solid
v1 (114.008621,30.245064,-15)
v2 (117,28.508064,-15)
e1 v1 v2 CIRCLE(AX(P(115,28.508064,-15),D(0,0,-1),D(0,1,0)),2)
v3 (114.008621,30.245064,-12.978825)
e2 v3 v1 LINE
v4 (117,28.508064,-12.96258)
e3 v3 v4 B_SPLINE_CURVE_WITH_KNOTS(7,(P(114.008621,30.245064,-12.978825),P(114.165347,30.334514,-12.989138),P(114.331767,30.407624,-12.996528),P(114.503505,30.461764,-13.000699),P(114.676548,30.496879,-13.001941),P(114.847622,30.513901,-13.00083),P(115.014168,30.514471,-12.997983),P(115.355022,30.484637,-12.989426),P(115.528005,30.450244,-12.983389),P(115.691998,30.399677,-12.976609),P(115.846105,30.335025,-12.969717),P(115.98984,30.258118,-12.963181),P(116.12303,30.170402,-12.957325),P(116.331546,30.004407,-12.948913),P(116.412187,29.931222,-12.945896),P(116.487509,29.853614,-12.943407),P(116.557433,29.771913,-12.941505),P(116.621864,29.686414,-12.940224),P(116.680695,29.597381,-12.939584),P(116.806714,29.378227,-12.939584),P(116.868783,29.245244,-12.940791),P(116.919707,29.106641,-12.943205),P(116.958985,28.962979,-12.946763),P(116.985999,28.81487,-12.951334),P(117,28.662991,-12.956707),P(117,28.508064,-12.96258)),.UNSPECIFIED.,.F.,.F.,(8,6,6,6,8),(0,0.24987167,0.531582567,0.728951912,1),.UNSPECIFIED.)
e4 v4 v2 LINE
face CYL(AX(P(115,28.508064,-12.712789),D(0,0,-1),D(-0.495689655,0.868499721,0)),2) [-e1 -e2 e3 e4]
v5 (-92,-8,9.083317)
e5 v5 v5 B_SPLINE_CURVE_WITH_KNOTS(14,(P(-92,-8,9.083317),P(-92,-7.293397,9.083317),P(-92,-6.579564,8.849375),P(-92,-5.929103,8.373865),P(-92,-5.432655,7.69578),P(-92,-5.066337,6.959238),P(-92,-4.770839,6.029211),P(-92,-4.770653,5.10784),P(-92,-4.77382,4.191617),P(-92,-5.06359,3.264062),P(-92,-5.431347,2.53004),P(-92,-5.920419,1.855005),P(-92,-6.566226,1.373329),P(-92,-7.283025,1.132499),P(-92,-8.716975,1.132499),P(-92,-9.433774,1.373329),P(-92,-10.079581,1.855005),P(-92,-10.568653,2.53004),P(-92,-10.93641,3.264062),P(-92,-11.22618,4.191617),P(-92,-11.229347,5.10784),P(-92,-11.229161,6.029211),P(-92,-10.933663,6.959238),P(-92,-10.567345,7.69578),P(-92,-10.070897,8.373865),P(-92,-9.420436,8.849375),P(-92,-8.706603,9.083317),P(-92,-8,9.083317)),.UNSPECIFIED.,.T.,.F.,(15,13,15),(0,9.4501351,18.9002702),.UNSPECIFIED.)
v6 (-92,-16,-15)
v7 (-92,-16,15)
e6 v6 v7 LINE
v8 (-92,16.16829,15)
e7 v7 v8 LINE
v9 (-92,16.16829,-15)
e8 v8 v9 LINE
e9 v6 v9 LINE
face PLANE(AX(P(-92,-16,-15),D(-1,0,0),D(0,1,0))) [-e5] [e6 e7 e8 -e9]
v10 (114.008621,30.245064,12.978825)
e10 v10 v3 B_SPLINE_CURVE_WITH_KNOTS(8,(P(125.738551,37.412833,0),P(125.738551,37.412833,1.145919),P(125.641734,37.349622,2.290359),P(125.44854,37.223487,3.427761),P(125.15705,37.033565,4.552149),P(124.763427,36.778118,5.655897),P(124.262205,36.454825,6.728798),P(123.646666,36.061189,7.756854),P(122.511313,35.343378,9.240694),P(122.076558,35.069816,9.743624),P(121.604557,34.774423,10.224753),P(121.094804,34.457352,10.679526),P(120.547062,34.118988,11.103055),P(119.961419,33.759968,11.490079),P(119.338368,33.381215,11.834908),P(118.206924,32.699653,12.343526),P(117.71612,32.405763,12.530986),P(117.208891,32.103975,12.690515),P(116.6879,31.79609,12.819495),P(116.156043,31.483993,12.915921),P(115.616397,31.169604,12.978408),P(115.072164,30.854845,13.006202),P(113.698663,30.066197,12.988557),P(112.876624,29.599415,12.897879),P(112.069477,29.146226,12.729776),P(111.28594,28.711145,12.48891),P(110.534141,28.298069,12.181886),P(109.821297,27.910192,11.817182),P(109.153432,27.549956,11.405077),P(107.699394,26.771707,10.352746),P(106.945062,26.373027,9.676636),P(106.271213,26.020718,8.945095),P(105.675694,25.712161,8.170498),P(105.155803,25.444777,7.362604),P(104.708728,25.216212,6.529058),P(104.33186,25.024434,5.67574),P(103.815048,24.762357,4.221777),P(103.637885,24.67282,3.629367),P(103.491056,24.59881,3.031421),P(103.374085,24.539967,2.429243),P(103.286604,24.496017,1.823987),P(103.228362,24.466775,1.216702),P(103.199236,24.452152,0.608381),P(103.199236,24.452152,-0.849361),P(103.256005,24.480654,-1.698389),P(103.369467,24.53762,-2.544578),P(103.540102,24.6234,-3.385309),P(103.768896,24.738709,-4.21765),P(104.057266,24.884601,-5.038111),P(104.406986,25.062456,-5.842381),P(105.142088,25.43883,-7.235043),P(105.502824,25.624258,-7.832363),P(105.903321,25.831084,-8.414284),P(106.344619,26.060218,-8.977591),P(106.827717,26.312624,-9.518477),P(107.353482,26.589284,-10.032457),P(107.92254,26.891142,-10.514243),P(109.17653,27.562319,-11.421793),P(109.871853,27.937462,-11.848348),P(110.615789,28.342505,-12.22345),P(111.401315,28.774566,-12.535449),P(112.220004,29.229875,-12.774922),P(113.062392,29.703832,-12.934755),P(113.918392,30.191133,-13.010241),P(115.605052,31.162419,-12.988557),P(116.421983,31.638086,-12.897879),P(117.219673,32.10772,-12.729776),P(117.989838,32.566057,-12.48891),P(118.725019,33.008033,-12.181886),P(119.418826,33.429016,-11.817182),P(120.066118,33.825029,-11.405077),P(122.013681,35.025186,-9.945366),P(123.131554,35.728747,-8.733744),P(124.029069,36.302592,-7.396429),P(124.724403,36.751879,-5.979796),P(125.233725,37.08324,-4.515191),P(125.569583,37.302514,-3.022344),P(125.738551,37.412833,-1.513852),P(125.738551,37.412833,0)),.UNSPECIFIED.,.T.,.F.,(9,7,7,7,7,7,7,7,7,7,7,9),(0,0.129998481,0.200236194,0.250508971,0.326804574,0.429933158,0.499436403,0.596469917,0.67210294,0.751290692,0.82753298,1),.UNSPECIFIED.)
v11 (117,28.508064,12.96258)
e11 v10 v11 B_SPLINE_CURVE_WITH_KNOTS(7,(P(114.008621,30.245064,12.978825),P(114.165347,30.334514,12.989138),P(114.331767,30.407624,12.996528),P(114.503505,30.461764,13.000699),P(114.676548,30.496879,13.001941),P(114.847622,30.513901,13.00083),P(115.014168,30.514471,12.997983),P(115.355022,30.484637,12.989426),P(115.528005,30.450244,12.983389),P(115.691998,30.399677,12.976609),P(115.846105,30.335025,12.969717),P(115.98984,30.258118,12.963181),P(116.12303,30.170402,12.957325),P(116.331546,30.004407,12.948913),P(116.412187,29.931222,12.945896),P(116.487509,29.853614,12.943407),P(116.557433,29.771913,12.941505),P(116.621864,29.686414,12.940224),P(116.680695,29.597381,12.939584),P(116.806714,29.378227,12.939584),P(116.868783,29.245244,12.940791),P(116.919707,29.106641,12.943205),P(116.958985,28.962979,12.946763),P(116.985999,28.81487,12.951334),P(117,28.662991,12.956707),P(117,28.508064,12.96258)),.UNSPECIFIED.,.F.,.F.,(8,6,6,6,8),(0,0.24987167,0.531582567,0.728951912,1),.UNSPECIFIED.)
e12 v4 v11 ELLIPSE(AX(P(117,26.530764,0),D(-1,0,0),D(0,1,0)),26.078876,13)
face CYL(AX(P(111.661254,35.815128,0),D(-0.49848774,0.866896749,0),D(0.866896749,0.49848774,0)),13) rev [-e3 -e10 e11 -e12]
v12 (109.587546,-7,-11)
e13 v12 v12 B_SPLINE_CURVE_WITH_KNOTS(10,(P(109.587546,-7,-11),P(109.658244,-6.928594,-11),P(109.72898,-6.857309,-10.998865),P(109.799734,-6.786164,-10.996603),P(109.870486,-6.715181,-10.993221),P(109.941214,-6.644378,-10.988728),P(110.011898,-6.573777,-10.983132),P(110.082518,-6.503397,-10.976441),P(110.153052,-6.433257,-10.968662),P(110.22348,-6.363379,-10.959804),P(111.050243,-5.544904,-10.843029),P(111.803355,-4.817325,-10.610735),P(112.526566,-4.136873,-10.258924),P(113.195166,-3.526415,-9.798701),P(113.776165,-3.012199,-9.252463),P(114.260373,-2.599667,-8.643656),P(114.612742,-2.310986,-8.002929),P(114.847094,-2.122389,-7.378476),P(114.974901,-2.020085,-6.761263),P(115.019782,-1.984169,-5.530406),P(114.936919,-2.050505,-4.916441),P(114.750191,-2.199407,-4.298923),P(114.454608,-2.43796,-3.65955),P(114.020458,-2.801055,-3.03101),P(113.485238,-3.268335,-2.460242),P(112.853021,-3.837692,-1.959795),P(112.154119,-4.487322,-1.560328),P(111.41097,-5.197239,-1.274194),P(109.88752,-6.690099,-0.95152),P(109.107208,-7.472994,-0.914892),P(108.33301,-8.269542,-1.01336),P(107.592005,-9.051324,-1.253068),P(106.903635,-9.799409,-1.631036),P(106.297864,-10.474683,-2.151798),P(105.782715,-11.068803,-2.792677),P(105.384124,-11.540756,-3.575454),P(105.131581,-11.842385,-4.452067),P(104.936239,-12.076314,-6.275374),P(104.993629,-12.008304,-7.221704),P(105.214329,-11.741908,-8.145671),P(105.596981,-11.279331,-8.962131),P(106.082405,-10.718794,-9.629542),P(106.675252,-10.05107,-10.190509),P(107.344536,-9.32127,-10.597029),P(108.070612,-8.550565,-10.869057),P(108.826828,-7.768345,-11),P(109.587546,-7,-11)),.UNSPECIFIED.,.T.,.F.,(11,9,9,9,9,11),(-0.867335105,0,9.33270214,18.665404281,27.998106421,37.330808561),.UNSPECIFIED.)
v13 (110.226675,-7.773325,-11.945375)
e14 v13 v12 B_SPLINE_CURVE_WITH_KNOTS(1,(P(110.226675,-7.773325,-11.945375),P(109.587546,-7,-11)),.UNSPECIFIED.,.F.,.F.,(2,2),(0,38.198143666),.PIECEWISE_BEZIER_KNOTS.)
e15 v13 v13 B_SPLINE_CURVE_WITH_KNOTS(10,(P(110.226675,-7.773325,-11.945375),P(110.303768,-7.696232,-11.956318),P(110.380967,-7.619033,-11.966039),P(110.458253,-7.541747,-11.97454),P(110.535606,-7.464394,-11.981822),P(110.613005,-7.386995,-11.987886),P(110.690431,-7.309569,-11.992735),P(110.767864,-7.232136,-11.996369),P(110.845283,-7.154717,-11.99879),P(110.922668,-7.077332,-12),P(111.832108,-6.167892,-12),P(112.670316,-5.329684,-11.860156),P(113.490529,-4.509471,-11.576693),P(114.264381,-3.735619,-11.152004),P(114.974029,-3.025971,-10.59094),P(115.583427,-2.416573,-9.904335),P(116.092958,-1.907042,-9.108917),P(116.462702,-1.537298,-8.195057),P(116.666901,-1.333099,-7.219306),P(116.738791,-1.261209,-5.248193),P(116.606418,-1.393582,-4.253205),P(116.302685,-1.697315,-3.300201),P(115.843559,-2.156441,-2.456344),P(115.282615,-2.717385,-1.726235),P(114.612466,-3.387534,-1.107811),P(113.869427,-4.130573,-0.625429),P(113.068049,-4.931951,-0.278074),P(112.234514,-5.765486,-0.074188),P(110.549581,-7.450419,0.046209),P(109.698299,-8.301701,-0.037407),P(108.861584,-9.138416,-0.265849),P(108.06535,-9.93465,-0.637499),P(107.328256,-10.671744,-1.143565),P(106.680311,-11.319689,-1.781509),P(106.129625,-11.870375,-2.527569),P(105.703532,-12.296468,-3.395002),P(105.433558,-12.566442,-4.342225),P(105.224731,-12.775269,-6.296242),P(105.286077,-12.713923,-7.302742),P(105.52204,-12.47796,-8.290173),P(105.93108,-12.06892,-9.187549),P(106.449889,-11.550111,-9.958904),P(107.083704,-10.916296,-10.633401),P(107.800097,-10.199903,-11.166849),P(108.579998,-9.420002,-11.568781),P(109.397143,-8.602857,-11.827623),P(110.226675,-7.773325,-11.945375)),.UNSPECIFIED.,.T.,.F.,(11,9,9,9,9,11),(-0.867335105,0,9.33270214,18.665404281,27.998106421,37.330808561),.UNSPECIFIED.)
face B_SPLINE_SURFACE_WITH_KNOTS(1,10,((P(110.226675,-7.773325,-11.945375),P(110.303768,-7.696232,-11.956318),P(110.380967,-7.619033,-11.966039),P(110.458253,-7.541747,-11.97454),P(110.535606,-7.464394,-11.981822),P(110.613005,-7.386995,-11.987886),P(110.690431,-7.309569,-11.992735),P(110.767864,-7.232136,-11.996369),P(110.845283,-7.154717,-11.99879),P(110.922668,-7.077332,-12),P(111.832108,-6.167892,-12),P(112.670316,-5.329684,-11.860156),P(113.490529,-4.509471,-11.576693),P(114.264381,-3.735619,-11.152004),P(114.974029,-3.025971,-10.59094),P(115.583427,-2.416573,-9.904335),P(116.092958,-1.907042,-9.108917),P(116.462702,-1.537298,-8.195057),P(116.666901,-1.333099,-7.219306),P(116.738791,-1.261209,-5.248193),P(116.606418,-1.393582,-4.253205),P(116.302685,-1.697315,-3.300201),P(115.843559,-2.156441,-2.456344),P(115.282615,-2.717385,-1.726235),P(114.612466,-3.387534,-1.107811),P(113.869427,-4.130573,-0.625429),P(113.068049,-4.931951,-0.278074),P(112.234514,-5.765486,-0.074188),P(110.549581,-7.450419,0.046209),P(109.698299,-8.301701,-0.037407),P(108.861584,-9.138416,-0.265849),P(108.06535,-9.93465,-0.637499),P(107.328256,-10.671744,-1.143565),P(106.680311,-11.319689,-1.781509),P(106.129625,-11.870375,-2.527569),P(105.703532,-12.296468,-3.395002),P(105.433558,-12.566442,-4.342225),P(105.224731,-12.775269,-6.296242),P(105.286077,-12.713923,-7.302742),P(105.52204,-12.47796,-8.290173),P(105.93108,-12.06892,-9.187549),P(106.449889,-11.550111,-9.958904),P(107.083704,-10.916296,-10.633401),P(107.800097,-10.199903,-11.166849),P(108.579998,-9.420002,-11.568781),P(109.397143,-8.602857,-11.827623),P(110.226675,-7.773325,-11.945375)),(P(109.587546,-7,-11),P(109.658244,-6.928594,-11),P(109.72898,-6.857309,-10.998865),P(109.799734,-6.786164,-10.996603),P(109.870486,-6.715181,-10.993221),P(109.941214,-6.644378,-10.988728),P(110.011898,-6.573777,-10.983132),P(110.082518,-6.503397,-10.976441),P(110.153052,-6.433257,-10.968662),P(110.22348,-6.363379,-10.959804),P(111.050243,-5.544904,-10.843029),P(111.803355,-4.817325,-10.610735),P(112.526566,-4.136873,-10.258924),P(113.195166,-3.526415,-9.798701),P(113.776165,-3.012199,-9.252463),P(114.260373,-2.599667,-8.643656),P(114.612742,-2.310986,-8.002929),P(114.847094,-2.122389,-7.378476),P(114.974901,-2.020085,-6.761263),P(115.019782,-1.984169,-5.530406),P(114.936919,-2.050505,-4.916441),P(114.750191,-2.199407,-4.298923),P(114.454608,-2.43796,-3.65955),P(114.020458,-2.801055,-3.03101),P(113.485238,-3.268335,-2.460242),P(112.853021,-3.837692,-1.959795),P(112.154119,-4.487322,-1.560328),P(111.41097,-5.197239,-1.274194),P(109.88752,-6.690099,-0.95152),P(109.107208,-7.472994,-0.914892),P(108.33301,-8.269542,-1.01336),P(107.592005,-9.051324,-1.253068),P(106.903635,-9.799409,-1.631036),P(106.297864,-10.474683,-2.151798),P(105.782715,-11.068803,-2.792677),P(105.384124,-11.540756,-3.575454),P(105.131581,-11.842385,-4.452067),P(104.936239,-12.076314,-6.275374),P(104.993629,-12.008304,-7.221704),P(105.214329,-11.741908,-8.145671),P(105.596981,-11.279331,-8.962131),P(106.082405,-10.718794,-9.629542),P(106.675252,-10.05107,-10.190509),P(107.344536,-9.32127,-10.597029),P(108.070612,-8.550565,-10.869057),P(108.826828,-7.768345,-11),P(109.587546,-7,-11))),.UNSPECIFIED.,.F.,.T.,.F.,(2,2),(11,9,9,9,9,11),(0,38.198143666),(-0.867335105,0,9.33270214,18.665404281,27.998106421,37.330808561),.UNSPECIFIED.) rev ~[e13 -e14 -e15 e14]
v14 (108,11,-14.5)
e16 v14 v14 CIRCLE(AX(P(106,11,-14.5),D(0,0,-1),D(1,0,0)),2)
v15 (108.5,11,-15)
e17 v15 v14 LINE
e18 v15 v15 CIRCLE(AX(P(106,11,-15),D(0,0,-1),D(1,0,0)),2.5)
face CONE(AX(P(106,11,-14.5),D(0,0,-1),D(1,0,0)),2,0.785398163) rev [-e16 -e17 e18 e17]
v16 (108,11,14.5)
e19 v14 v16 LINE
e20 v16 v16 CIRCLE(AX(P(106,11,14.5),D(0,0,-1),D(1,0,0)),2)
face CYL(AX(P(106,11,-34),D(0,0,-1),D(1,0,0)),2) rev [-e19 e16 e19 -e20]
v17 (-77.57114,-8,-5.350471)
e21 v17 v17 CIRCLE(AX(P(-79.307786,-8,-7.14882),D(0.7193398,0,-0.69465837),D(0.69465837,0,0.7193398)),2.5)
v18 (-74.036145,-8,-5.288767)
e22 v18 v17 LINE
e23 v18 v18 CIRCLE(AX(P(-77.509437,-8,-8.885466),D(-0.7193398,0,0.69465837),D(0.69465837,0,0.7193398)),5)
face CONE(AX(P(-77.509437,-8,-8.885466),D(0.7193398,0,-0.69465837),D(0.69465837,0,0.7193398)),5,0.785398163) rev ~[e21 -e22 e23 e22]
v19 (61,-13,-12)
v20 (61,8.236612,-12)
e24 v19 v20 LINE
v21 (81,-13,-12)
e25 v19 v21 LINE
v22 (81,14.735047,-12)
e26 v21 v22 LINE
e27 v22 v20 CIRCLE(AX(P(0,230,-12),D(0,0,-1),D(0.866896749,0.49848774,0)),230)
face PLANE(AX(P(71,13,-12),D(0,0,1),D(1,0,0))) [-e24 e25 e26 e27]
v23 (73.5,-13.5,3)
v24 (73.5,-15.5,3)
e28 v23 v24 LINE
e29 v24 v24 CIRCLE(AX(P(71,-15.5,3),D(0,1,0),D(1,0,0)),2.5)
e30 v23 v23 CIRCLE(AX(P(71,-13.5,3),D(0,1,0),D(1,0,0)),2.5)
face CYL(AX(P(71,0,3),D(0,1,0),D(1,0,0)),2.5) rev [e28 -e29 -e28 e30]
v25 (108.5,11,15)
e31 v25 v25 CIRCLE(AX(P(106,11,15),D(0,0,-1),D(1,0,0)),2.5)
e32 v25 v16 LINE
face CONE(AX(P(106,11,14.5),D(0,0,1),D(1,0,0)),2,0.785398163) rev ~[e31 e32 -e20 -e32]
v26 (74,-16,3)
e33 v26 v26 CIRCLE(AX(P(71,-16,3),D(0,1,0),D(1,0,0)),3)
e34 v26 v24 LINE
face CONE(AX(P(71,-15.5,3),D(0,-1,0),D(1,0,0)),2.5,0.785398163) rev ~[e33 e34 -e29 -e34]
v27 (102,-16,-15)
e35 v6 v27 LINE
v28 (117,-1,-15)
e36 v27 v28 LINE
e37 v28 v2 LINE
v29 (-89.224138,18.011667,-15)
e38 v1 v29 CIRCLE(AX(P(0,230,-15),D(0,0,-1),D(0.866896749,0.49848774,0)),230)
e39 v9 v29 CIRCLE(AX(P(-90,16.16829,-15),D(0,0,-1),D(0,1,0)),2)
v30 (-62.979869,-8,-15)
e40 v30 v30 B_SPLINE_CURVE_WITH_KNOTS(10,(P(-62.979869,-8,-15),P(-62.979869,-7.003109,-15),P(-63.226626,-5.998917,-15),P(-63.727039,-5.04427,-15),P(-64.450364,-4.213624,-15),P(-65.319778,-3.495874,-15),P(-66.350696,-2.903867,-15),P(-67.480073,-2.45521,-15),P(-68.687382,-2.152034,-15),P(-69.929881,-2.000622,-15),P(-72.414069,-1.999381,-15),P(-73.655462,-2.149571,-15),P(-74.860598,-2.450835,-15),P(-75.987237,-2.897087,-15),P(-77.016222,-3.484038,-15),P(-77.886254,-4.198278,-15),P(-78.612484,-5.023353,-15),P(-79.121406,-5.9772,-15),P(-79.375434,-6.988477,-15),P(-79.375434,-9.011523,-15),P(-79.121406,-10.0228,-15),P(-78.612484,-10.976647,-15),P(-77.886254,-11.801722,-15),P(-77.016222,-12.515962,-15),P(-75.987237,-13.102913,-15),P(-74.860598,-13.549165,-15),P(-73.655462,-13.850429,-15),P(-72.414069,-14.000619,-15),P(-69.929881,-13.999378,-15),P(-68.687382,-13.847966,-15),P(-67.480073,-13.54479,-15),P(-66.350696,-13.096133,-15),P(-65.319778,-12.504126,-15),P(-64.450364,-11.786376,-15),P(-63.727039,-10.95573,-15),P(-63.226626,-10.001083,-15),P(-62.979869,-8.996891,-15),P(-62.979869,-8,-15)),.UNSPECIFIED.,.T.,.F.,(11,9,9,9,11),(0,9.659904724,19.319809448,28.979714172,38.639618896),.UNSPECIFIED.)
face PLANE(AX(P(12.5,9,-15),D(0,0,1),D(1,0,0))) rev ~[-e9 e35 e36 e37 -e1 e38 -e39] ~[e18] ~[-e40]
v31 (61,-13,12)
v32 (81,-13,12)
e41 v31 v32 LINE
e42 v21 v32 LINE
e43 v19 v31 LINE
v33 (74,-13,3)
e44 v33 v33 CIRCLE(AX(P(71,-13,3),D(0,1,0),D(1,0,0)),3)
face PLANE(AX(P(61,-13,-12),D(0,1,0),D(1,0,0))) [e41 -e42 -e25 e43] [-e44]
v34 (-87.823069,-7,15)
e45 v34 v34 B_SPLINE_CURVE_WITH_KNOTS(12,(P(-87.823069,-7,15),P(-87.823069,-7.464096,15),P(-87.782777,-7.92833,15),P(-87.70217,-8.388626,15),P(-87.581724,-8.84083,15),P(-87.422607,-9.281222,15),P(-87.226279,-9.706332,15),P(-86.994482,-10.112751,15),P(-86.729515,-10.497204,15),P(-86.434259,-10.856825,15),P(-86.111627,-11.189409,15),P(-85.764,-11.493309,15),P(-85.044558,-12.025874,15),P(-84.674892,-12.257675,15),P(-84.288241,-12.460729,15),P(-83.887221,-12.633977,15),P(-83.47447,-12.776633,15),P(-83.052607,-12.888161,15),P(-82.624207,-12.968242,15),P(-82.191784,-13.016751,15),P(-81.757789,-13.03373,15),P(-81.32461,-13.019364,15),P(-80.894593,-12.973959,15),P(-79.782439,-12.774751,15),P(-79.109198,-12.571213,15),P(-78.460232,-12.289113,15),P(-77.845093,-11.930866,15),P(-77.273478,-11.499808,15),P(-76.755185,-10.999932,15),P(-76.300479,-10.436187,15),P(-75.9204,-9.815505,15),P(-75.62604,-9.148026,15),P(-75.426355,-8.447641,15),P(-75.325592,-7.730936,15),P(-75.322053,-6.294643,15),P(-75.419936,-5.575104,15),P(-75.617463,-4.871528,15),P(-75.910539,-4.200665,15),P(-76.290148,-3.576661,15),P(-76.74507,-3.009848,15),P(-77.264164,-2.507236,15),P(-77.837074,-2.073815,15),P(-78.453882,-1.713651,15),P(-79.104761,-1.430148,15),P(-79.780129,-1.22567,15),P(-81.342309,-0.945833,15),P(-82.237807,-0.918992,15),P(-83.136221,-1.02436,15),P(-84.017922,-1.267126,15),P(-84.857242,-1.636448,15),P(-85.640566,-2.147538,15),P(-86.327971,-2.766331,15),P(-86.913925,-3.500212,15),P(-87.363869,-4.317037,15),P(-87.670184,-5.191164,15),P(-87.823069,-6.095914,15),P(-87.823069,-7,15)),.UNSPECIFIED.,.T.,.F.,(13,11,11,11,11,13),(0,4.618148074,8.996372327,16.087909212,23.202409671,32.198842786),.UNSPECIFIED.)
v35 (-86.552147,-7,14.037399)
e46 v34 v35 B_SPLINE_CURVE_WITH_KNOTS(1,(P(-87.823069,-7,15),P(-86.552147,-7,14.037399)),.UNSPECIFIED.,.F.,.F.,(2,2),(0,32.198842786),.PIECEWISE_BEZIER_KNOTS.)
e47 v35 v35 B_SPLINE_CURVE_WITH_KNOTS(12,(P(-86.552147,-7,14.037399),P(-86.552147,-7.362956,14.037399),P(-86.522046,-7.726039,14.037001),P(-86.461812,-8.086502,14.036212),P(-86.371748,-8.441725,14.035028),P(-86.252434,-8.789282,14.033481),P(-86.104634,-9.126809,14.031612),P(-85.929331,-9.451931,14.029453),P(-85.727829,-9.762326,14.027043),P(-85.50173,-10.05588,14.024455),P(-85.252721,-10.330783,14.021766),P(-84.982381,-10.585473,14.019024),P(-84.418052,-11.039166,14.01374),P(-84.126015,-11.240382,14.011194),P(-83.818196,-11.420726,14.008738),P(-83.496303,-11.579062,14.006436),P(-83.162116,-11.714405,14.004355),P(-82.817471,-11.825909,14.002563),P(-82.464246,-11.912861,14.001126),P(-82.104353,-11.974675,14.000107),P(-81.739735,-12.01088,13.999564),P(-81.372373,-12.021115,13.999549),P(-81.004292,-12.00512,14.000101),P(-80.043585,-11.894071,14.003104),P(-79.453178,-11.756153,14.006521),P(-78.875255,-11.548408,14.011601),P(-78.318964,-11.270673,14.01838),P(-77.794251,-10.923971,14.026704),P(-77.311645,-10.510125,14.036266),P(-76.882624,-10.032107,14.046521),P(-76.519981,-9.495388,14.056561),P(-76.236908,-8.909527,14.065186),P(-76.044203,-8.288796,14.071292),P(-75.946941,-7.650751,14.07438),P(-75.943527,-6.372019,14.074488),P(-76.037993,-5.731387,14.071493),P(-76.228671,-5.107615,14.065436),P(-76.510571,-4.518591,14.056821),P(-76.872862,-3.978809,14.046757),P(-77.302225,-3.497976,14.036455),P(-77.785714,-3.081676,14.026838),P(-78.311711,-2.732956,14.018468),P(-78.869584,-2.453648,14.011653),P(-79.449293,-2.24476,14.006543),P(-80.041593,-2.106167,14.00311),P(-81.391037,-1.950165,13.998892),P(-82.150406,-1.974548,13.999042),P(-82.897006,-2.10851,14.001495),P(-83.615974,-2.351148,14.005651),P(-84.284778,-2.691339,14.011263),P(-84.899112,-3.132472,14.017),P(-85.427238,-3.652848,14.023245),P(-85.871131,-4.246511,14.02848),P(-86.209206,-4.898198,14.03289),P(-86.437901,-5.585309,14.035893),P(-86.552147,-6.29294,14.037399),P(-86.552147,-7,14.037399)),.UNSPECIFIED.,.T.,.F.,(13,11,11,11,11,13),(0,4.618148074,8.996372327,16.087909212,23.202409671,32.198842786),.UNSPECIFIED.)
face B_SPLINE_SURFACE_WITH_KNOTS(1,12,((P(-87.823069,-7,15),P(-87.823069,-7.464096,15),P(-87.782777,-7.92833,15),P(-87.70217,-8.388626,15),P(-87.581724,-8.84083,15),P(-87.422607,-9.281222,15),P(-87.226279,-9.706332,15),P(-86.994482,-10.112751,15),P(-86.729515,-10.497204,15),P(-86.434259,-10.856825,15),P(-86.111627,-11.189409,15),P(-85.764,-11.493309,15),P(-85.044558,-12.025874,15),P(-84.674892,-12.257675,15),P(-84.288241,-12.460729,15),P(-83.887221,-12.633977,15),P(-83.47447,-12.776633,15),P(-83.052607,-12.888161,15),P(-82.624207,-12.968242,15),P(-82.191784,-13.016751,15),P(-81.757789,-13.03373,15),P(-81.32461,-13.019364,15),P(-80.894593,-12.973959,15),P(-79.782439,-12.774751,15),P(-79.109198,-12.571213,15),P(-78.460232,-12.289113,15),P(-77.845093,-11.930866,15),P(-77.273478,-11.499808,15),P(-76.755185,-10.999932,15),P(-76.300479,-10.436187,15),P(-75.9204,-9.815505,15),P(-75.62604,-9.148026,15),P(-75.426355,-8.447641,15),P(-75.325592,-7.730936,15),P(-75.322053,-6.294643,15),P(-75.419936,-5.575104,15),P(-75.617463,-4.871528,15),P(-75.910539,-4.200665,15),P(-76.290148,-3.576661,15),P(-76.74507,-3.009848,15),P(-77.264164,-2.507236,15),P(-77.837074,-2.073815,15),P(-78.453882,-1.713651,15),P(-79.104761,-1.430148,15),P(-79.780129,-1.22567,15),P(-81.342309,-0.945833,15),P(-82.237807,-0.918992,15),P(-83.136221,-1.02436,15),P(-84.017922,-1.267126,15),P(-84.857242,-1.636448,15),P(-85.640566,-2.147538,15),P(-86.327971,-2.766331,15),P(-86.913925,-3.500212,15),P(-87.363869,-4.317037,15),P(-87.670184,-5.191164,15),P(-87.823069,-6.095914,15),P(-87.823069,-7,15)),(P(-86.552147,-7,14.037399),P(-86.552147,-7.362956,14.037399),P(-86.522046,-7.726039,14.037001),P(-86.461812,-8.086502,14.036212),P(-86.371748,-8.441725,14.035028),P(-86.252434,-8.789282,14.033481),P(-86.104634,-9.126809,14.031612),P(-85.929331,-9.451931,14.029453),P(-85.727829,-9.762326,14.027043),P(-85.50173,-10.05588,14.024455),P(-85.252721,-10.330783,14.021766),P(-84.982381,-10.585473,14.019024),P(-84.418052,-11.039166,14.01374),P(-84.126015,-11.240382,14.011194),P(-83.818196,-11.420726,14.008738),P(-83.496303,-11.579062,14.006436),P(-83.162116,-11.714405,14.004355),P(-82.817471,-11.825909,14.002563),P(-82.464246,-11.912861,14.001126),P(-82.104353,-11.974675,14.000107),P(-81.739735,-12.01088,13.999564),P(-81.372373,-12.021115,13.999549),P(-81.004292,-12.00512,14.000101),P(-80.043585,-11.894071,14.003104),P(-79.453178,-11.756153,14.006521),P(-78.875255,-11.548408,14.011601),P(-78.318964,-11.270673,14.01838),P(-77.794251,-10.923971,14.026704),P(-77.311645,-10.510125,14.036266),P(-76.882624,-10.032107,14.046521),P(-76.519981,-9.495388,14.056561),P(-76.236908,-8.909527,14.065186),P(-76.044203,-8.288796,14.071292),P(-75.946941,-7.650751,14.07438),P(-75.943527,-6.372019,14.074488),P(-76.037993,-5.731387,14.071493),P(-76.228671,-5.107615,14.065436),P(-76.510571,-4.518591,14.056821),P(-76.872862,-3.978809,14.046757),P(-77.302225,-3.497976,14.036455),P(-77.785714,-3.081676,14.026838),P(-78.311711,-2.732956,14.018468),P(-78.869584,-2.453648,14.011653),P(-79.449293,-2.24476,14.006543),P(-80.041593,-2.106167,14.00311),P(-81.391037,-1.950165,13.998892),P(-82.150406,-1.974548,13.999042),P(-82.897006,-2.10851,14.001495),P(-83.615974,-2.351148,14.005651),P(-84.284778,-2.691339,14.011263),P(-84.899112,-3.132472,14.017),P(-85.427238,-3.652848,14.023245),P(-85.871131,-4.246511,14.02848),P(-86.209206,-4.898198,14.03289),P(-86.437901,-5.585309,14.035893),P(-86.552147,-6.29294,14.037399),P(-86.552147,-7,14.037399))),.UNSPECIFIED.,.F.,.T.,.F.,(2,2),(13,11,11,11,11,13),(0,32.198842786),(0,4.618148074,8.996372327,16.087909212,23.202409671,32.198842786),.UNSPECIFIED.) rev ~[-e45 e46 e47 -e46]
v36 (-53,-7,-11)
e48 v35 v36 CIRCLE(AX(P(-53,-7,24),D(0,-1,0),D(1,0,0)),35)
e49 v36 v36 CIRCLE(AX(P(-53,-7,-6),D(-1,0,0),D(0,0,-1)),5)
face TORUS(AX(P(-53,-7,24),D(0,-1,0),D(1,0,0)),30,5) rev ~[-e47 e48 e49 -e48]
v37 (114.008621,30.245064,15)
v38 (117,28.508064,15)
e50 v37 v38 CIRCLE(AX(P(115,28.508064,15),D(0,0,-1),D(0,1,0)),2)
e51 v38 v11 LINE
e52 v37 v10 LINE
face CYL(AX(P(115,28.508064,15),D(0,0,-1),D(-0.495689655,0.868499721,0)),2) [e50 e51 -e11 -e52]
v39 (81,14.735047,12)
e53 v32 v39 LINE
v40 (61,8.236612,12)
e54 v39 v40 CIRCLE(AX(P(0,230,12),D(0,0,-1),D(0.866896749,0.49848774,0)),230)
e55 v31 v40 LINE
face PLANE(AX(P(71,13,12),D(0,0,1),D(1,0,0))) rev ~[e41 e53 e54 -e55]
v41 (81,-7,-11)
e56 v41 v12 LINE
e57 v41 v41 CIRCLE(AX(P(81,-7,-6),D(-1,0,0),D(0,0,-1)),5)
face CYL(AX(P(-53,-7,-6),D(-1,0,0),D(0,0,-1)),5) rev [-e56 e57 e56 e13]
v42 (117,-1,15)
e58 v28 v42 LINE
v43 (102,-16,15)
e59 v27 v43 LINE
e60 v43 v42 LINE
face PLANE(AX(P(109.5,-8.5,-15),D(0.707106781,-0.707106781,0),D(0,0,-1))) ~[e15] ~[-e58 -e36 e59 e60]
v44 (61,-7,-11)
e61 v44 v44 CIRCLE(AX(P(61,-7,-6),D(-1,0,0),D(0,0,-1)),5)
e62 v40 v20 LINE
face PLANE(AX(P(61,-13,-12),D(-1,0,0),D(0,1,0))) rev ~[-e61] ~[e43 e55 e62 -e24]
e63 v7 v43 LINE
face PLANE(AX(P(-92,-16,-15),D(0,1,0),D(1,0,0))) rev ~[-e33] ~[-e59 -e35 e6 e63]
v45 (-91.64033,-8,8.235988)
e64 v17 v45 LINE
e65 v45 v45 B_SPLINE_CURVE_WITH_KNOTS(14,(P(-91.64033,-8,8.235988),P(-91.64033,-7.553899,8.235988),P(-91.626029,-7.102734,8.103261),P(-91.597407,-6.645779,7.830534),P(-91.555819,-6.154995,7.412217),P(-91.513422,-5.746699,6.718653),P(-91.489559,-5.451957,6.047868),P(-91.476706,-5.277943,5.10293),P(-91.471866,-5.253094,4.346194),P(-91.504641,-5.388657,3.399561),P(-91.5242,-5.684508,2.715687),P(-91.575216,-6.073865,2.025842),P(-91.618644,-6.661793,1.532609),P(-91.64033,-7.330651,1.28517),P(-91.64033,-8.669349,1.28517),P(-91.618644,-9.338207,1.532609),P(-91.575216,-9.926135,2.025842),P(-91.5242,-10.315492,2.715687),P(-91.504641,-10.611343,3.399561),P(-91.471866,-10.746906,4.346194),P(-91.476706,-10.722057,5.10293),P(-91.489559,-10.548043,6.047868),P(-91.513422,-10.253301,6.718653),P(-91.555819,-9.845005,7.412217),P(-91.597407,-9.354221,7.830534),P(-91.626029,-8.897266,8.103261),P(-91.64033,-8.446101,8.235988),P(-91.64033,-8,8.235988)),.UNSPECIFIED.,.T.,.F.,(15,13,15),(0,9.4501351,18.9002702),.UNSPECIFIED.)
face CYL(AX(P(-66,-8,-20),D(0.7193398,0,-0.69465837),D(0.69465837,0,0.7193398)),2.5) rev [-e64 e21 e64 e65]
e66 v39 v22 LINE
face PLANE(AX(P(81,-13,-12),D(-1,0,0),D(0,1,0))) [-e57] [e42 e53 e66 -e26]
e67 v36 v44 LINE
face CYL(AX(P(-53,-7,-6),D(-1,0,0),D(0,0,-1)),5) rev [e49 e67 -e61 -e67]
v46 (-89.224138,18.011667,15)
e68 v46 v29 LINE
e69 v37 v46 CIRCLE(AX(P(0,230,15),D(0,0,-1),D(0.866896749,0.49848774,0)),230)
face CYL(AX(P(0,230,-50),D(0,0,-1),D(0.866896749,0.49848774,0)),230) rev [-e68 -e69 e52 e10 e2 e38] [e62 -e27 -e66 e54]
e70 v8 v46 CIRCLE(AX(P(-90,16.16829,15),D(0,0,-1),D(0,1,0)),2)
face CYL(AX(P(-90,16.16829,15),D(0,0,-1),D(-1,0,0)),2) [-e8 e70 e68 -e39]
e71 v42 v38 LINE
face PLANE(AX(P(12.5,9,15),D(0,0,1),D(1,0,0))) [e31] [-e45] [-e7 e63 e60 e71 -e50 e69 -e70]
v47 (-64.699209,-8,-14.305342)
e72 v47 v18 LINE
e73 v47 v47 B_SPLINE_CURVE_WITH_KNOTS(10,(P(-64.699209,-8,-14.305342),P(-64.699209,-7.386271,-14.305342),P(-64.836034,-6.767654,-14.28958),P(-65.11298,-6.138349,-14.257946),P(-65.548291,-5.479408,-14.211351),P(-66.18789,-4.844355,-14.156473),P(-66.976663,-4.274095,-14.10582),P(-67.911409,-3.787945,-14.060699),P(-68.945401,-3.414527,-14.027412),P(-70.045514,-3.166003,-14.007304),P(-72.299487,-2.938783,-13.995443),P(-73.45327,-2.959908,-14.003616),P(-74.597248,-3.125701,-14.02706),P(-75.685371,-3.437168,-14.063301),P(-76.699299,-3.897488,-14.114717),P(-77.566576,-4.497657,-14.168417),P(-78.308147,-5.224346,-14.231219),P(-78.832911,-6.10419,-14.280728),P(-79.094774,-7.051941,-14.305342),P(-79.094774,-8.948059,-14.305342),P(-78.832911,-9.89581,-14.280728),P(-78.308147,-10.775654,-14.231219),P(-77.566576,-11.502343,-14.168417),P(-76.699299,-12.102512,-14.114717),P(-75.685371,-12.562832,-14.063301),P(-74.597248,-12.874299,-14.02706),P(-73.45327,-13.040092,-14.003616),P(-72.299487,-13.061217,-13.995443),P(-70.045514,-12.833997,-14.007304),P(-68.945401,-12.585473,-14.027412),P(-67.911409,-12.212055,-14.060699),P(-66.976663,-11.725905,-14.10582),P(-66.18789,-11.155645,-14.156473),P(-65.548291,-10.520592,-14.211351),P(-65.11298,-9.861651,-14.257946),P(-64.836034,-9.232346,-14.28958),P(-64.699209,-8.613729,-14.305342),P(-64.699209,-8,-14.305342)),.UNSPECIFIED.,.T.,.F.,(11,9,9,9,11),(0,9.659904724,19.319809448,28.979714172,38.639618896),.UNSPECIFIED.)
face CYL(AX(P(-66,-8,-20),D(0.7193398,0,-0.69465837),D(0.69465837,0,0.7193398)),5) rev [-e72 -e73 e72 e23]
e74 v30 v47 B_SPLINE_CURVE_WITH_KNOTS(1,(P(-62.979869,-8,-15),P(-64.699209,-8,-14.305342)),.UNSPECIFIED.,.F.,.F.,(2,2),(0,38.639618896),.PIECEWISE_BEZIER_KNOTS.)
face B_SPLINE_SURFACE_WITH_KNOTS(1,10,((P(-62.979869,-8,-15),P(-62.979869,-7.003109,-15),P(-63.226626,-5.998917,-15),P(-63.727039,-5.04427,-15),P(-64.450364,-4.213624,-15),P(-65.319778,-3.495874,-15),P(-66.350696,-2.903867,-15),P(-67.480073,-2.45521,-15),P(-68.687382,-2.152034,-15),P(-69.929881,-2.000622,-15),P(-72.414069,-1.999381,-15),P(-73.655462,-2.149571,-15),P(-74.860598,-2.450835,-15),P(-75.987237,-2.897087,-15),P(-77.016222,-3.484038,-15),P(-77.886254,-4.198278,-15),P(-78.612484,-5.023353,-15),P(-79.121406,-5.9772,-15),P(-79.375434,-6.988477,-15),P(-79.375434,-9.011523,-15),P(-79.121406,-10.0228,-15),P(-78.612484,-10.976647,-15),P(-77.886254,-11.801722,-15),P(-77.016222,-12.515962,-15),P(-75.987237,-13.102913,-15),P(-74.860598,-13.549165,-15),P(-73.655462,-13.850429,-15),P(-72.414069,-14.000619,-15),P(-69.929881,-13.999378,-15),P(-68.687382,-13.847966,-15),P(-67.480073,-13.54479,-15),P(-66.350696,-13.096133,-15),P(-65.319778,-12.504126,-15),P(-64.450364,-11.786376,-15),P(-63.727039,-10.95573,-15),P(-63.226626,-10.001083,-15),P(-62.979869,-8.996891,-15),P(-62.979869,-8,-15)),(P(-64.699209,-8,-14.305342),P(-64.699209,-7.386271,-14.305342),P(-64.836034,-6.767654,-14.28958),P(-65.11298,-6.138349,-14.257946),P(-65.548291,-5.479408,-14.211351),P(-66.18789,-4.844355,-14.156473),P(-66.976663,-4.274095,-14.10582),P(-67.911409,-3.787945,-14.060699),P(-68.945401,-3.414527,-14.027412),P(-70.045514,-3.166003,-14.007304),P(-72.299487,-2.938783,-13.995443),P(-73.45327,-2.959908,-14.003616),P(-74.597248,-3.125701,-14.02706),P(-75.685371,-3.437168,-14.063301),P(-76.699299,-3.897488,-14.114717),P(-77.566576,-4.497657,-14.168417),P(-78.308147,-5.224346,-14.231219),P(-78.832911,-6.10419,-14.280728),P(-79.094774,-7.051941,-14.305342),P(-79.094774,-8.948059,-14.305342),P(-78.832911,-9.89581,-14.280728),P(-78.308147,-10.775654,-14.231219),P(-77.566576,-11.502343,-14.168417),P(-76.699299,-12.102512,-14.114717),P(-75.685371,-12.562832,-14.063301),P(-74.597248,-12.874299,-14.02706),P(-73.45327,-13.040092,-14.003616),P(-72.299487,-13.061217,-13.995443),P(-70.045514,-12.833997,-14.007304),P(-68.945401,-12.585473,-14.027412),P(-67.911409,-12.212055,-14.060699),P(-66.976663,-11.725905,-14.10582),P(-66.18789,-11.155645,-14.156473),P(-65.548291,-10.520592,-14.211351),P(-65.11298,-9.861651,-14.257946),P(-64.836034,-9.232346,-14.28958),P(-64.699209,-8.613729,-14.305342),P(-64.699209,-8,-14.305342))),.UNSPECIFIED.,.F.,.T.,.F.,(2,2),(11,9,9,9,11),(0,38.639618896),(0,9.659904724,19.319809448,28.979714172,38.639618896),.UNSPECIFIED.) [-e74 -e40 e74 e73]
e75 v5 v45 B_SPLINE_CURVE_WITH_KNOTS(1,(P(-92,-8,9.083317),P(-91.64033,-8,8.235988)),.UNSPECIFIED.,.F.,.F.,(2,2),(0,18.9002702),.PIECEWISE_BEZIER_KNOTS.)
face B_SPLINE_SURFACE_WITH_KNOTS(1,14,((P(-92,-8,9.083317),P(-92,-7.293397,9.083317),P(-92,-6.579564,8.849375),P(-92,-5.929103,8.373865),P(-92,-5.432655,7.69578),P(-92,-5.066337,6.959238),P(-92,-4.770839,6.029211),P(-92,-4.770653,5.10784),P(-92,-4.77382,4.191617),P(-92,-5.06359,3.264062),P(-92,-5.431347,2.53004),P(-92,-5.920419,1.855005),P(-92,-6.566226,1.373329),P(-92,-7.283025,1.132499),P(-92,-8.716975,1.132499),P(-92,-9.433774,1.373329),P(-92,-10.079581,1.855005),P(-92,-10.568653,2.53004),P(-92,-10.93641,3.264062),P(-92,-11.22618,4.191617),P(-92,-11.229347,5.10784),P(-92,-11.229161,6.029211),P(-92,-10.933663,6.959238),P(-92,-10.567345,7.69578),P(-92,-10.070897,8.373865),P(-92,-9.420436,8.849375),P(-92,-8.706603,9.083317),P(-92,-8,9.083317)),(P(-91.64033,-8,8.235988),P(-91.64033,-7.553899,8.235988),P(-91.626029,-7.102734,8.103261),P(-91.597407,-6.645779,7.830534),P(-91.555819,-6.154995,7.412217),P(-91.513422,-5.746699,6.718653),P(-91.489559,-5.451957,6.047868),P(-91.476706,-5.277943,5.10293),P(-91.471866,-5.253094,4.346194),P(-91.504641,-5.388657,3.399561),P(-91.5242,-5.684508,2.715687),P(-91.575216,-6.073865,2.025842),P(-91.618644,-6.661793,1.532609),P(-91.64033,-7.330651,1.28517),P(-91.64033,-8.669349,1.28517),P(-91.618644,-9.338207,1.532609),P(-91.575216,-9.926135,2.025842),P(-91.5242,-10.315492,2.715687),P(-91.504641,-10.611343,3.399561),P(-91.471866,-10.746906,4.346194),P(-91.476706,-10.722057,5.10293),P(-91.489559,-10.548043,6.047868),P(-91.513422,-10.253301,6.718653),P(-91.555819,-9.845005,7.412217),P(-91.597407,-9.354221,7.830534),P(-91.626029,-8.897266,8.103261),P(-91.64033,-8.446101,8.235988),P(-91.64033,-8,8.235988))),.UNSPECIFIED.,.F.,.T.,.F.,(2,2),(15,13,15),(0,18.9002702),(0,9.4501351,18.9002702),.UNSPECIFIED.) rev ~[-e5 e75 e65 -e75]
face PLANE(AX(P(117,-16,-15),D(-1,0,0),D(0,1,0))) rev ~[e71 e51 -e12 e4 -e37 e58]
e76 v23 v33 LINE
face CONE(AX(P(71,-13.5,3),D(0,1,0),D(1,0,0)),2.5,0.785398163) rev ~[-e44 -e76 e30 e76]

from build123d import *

# Parameters (mm, degrees)
CYLINDER006_R               = 2.5
CYLINDER006_DEPTH           = 35
BOX004_W                    = 20
BOX004_H                    = 52
BOX004_DEPTH                = 24
CYLINDER005_R               = 5
CYLINDER005_DEPTH           = 20
CYLINDER005_PLACEMENT_ANGLE = 46
CHAMFER001_SIZE             = 4
CYLINDER004_R               = 2.5
CYLINDER004_DEPTH           = 100
CYLINDER004_PLACEMENT_ANGLE = 46
CYLINDER002_R               = 2
CYLINDER002_DEPTH           = 100
BOX_W                       = 10
BOX_H                       = 40
BOX_DEPTH                   = 100
CYLINDER001_R               = 13
CYLINDER001_DEPTH           = 56
CYLINDER_R                  = 230
CYLINDER_DEPTH              = 100
FUSION_PLACEMENT_ANGLE      = 52.3
FUSION001_PLACEMENT_ANGLE   = 22.4
BOX001_W                    = 49
BOX001_H                    = 54
BOX001_DEPTH                = 100
CYLINDER003_R               = 5
CYLINDER003_DEPTH           = 300
TORUS_R                     = 5
BOX003_W                    = 39
BOX003_H                    = 50
BOX003_DEPTH                = 42
BOX002_W                    = 209
BOX002_H                    = 50
BOX002_DEPTH                = 30
CHAMFER_SIZE                = 15
FILLET_R                    = 2
CHAMFER002_SIZE             = 0.5
CHAMFER003_SIZE             = 1
CHAMFER004_SIZE             = 0.5
CHAMFER005_SIZE             = 1
CHAMFER006_SIZE             = 0.5


with BuildPart() as cylinder006:
    # Cylinder006 → Cylinder006 (new body)
    with BuildSketch(Plane(origin=(10, 0, 3), x_dir=(1, 0, 0), z_dir=(0, -1, 0))):
        Circle(CYLINDER006_R)
    extrude(amount=CYLINDER006_DEPTH)


with BuildPart() as fusion005:
    # Box004 → Box004 (new body)
    with BuildSketch(Plane(origin=(0, -13, -12), x_dir=(1, 0, 0), z_dir=(0, 0, 1))):
        with Locations((10, 26)):
            Rectangle(BOX004_W, BOX004_H)
    extrude(amount=BOX004_DEPTH)

    # Fusion005: union Cylinder006
    add(cylinder006.part)


with BuildPart() as fusion005_1:
    # Fusion005 placement: moved
    add(fusion005.part.moved(Location((61, 0, 0))))


with BuildPart() as chamfer001:
    # Cylinder005 → Cylinder005 (new body)
    with BuildSketch(Plane.XY):
        Circle(CYLINDER005_R)
    extrude(amount=CYLINDER005_DEPTH)


with BuildPart() as chamfer001_1:
    # Cylinder005 placement: moved
    add(chamfer001.part.moved(Location((-52, -8, -20))).rotate(Axis((-52, -8, -20), (0, -1, 0)), CYLINDER005_PLACEMENT_ANGLE))

    # Chamfer001
    chamfer001_edges = [chamfer001_1.edges().sort_by_distance(p)[0] for p in [
        (-69.860088, -8, -9.703532),
    ]]
    chamfer(chamfer001_edges, length=CHAMFER001_SIZE)


with BuildPart() as chamfer001_2:
    # Chamfer001 placement: moved
    add(chamfer001_1.part.moved(Location((-14, 0, 0))))


with BuildPart() as cylinder004:
    # Cylinder004 → Cylinder004 (new body)
    with BuildSketch(Plane.XY):
        Circle(CYLINDER004_R)
    extrude(amount=CYLINDER004_DEPTH)


with BuildPart() as cylinder004_1:
    # Cylinder004 placement: moved
    add(cylinder004.part.moved(Location((-66, -8, -20))).rotate(Axis((-66, -8, -20), (0, -1, 0)), CYLINDER004_PLACEMENT_ANGLE))


with BuildPart() as cylinder002:
    # Cylinder002 → Cylinder002 (new body)
    with BuildSketch(Plane(origin=(106, 11, -34), x_dir=(1, 0, 0), z_dir=(0, 0, 1))):
        Circle(CYLINDER002_R)
    extrude(amount=CYLINDER002_DEPTH)


with BuildPart() as cubexxx:
    # Box → Box (new body)
    with BuildSketch(Plane(origin=(1000, -30, -50), x_dir=(1, 0, 0), z_dir=(0, 0, 1))):
        with Locations((5, 20)):
            Rectangle(BOX_W, BOX_H)
    extrude(amount=BOX_DEPTH)


with BuildPart() as cylinder001:
    # Cylinder001 → Cylinder001 (new body)
    with BuildSketch(Plane.XZ.offset(-6)):
        Circle(CYLINDER001_R)
    extrude(amount=CYLINDER001_DEPTH)


with BuildPart() as fusion001:
    # Cylinder → Cylinder (new body)
    with BuildSketch(Plane(origin=(0, 230, -50), x_dir=(1, 0, 0), z_dir=(0, 0, 1))):
        Circle(CYLINDER_R)
    extrude(amount=CYLINDER_DEPTH)

    # Fusion: union Cylinder001
    add(cylinder001.part)


with BuildPart() as fusion001_1:
    # Fusion placement: moved
    add(fusion001.part.moved(Location((181.981413, 89.348781, 0))).rotate(Axis((181.981413, 89.348781, 0), (0, 0, 1)), FUSION_PLACEMENT_ANGLE))

    # Fusion001: union Cubexxx
    add(cubexxx.part)


with BuildPart() as fusion001_2:
    # Fusion001 placement: moved
    add(fusion001_1.part.moved(Location((-87.646187, 17.354412, 0))).rotate(Axis((-87.646187, 17.354412, 0), (0, 0, -1)), FUSION001_PLACEMENT_ANGLE))


with BuildPart() as fusion002:
    # Box001 → Box001 (new body)
    with BuildSketch(Plane(origin=(-141, -28, -50), x_dir=(1, 0, 0), z_dir=(0, 0, 1))):
        with Locations((24.5, 27)):
            Rectangle(BOX001_W, BOX001_H)
    extrude(amount=BOX001_DEPTH)

    # Fusion002: union Fusion001
    add(fusion001_2.part)


with BuildPart() as cylinder003:
    # Cylinder003 → Cylinder003 (new body)
    with BuildSketch(Plane(origin=(-53, -7, 0), x_dir=(0, 0, -1), z_dir=(1, 0, 0))):
        Circle(CYLINDER003_R)
    extrude(amount=CYLINDER003_DEPTH)


with BuildPart() as torus:
    # Torus → Torus (revolve)
    with BuildSketch(Plane(origin=(-53, -7, 30), x_dir=(1, 0, 0), z_dir=(0, 0, -1))):
        with Locations((30, 0)):
            Circle(TORUS_R)
    revolve(axis=Axis((-53, -7, 30), (0, -1, 0)))


with BuildPart() as holes:
    # Box003 → Box003 (new body)
    with BuildSketch(Plane(origin=(-92, -16, -15), x_dir=(1, 0, 0), z_dir=(0, 0, 1))):
        with Locations((19.5, 25)):
            Rectangle(BOX003_W, BOX003_H)
    extrude(amount=BOX003_DEPTH)

    # Common: intersect Torus
    add(torus.part, mode=Mode.INTERSECT)

    # Fusion006: union Cylinder003
    add(cylinder003.part)


with BuildPart() as holes_1:
    # Fusion006 placement: moved
    add(holes.part.moved(Location((0, 0, -6))))

    # Fusion007: union Fusion005, Chamfer001, Cylinder004, Cylinder002, Fusion002
    add(fusion005_1.part)
    add(chamfer001_2.part)
    add(cylinder004_1.part)
    add(cylinder002.part)
    add(fusion002.part)


with BuildPart() as chamfer006:
    # Box002 → Box002 (new body)
    with BuildSketch(Plane(origin=(-92, -16, -15), x_dir=(1, 0, 0), z_dir=(0, 0, 1))):
        with Locations((104.5, 25)):
            Rectangle(BOX002_W, BOX002_H)
    extrude(amount=BOX002_DEPTH)

    # Chamfer
    chamfer_edges = [chamfer006.edges().sort_by_distance(p)[0] for p in [
        (117, -16, 0),
    ]]
    chamfer(chamfer_edges, length=CHAMFER_SIZE)

    # Cut: cut holes
    add(holes_1.part, mode=Mode.SUBTRACT)

    # Fillet
    fillet_edges = [chamfer006.edges().sort_by_distance(p)[0] for p in [
        (117, 31.982324, 13.856394),
        (117, 31.982324, -13.856394),
        (-92, 19.201518, 0),
    ]]
    fillet(fillet_edges, radius=FILLET_R)

    # Chamfer002
    chamfer002_edges = [chamfer006.edges().sort_by_distance(p)[0] for p in [
        (68.5, -16, 3),
        (68.5, -13, 3),
    ]]
    chamfer(chamfer002_edges, length=CHAMFER002_SIZE)

    # Chamfer003
    chamfer003_edges = [chamfer006.edges().sort_by_distance(p)[0] for p in [
        (-86.823069, -7, 15),
        (110.998637, -7.001363, -1),
    ]]
    chamfer(chamfer003_edges, length=CHAMFER003_SIZE)

    # Chamfer004
    chamfer004_edges = [chamfer006.edges().sort_by_distance(p)[0] for p in [
        (104, 11, 15),
        (104, 11, -15),
    ]]
    chamfer(chamfer004_edges, length=CHAMFER004_SIZE)

    # Chamfer005
    chamfer005_edges = [chamfer006.edges().sort_by_distance(p)[0] for p in [
        (-78.375432, -8.003753, -15),
    ]]
    chamfer(chamfer005_edges, length=CHAMFER005_SIZE)

    # Chamfer006
    chamfer006_edges = [chamfer006.edges().sort_by_distance(p)[0] for p in [
        (-92, -7.998647, 1.6325),
    ]]
    chamfer(chamfer006_edges, length=CHAMFER006_SIZE)


solid = chamfer006.part
